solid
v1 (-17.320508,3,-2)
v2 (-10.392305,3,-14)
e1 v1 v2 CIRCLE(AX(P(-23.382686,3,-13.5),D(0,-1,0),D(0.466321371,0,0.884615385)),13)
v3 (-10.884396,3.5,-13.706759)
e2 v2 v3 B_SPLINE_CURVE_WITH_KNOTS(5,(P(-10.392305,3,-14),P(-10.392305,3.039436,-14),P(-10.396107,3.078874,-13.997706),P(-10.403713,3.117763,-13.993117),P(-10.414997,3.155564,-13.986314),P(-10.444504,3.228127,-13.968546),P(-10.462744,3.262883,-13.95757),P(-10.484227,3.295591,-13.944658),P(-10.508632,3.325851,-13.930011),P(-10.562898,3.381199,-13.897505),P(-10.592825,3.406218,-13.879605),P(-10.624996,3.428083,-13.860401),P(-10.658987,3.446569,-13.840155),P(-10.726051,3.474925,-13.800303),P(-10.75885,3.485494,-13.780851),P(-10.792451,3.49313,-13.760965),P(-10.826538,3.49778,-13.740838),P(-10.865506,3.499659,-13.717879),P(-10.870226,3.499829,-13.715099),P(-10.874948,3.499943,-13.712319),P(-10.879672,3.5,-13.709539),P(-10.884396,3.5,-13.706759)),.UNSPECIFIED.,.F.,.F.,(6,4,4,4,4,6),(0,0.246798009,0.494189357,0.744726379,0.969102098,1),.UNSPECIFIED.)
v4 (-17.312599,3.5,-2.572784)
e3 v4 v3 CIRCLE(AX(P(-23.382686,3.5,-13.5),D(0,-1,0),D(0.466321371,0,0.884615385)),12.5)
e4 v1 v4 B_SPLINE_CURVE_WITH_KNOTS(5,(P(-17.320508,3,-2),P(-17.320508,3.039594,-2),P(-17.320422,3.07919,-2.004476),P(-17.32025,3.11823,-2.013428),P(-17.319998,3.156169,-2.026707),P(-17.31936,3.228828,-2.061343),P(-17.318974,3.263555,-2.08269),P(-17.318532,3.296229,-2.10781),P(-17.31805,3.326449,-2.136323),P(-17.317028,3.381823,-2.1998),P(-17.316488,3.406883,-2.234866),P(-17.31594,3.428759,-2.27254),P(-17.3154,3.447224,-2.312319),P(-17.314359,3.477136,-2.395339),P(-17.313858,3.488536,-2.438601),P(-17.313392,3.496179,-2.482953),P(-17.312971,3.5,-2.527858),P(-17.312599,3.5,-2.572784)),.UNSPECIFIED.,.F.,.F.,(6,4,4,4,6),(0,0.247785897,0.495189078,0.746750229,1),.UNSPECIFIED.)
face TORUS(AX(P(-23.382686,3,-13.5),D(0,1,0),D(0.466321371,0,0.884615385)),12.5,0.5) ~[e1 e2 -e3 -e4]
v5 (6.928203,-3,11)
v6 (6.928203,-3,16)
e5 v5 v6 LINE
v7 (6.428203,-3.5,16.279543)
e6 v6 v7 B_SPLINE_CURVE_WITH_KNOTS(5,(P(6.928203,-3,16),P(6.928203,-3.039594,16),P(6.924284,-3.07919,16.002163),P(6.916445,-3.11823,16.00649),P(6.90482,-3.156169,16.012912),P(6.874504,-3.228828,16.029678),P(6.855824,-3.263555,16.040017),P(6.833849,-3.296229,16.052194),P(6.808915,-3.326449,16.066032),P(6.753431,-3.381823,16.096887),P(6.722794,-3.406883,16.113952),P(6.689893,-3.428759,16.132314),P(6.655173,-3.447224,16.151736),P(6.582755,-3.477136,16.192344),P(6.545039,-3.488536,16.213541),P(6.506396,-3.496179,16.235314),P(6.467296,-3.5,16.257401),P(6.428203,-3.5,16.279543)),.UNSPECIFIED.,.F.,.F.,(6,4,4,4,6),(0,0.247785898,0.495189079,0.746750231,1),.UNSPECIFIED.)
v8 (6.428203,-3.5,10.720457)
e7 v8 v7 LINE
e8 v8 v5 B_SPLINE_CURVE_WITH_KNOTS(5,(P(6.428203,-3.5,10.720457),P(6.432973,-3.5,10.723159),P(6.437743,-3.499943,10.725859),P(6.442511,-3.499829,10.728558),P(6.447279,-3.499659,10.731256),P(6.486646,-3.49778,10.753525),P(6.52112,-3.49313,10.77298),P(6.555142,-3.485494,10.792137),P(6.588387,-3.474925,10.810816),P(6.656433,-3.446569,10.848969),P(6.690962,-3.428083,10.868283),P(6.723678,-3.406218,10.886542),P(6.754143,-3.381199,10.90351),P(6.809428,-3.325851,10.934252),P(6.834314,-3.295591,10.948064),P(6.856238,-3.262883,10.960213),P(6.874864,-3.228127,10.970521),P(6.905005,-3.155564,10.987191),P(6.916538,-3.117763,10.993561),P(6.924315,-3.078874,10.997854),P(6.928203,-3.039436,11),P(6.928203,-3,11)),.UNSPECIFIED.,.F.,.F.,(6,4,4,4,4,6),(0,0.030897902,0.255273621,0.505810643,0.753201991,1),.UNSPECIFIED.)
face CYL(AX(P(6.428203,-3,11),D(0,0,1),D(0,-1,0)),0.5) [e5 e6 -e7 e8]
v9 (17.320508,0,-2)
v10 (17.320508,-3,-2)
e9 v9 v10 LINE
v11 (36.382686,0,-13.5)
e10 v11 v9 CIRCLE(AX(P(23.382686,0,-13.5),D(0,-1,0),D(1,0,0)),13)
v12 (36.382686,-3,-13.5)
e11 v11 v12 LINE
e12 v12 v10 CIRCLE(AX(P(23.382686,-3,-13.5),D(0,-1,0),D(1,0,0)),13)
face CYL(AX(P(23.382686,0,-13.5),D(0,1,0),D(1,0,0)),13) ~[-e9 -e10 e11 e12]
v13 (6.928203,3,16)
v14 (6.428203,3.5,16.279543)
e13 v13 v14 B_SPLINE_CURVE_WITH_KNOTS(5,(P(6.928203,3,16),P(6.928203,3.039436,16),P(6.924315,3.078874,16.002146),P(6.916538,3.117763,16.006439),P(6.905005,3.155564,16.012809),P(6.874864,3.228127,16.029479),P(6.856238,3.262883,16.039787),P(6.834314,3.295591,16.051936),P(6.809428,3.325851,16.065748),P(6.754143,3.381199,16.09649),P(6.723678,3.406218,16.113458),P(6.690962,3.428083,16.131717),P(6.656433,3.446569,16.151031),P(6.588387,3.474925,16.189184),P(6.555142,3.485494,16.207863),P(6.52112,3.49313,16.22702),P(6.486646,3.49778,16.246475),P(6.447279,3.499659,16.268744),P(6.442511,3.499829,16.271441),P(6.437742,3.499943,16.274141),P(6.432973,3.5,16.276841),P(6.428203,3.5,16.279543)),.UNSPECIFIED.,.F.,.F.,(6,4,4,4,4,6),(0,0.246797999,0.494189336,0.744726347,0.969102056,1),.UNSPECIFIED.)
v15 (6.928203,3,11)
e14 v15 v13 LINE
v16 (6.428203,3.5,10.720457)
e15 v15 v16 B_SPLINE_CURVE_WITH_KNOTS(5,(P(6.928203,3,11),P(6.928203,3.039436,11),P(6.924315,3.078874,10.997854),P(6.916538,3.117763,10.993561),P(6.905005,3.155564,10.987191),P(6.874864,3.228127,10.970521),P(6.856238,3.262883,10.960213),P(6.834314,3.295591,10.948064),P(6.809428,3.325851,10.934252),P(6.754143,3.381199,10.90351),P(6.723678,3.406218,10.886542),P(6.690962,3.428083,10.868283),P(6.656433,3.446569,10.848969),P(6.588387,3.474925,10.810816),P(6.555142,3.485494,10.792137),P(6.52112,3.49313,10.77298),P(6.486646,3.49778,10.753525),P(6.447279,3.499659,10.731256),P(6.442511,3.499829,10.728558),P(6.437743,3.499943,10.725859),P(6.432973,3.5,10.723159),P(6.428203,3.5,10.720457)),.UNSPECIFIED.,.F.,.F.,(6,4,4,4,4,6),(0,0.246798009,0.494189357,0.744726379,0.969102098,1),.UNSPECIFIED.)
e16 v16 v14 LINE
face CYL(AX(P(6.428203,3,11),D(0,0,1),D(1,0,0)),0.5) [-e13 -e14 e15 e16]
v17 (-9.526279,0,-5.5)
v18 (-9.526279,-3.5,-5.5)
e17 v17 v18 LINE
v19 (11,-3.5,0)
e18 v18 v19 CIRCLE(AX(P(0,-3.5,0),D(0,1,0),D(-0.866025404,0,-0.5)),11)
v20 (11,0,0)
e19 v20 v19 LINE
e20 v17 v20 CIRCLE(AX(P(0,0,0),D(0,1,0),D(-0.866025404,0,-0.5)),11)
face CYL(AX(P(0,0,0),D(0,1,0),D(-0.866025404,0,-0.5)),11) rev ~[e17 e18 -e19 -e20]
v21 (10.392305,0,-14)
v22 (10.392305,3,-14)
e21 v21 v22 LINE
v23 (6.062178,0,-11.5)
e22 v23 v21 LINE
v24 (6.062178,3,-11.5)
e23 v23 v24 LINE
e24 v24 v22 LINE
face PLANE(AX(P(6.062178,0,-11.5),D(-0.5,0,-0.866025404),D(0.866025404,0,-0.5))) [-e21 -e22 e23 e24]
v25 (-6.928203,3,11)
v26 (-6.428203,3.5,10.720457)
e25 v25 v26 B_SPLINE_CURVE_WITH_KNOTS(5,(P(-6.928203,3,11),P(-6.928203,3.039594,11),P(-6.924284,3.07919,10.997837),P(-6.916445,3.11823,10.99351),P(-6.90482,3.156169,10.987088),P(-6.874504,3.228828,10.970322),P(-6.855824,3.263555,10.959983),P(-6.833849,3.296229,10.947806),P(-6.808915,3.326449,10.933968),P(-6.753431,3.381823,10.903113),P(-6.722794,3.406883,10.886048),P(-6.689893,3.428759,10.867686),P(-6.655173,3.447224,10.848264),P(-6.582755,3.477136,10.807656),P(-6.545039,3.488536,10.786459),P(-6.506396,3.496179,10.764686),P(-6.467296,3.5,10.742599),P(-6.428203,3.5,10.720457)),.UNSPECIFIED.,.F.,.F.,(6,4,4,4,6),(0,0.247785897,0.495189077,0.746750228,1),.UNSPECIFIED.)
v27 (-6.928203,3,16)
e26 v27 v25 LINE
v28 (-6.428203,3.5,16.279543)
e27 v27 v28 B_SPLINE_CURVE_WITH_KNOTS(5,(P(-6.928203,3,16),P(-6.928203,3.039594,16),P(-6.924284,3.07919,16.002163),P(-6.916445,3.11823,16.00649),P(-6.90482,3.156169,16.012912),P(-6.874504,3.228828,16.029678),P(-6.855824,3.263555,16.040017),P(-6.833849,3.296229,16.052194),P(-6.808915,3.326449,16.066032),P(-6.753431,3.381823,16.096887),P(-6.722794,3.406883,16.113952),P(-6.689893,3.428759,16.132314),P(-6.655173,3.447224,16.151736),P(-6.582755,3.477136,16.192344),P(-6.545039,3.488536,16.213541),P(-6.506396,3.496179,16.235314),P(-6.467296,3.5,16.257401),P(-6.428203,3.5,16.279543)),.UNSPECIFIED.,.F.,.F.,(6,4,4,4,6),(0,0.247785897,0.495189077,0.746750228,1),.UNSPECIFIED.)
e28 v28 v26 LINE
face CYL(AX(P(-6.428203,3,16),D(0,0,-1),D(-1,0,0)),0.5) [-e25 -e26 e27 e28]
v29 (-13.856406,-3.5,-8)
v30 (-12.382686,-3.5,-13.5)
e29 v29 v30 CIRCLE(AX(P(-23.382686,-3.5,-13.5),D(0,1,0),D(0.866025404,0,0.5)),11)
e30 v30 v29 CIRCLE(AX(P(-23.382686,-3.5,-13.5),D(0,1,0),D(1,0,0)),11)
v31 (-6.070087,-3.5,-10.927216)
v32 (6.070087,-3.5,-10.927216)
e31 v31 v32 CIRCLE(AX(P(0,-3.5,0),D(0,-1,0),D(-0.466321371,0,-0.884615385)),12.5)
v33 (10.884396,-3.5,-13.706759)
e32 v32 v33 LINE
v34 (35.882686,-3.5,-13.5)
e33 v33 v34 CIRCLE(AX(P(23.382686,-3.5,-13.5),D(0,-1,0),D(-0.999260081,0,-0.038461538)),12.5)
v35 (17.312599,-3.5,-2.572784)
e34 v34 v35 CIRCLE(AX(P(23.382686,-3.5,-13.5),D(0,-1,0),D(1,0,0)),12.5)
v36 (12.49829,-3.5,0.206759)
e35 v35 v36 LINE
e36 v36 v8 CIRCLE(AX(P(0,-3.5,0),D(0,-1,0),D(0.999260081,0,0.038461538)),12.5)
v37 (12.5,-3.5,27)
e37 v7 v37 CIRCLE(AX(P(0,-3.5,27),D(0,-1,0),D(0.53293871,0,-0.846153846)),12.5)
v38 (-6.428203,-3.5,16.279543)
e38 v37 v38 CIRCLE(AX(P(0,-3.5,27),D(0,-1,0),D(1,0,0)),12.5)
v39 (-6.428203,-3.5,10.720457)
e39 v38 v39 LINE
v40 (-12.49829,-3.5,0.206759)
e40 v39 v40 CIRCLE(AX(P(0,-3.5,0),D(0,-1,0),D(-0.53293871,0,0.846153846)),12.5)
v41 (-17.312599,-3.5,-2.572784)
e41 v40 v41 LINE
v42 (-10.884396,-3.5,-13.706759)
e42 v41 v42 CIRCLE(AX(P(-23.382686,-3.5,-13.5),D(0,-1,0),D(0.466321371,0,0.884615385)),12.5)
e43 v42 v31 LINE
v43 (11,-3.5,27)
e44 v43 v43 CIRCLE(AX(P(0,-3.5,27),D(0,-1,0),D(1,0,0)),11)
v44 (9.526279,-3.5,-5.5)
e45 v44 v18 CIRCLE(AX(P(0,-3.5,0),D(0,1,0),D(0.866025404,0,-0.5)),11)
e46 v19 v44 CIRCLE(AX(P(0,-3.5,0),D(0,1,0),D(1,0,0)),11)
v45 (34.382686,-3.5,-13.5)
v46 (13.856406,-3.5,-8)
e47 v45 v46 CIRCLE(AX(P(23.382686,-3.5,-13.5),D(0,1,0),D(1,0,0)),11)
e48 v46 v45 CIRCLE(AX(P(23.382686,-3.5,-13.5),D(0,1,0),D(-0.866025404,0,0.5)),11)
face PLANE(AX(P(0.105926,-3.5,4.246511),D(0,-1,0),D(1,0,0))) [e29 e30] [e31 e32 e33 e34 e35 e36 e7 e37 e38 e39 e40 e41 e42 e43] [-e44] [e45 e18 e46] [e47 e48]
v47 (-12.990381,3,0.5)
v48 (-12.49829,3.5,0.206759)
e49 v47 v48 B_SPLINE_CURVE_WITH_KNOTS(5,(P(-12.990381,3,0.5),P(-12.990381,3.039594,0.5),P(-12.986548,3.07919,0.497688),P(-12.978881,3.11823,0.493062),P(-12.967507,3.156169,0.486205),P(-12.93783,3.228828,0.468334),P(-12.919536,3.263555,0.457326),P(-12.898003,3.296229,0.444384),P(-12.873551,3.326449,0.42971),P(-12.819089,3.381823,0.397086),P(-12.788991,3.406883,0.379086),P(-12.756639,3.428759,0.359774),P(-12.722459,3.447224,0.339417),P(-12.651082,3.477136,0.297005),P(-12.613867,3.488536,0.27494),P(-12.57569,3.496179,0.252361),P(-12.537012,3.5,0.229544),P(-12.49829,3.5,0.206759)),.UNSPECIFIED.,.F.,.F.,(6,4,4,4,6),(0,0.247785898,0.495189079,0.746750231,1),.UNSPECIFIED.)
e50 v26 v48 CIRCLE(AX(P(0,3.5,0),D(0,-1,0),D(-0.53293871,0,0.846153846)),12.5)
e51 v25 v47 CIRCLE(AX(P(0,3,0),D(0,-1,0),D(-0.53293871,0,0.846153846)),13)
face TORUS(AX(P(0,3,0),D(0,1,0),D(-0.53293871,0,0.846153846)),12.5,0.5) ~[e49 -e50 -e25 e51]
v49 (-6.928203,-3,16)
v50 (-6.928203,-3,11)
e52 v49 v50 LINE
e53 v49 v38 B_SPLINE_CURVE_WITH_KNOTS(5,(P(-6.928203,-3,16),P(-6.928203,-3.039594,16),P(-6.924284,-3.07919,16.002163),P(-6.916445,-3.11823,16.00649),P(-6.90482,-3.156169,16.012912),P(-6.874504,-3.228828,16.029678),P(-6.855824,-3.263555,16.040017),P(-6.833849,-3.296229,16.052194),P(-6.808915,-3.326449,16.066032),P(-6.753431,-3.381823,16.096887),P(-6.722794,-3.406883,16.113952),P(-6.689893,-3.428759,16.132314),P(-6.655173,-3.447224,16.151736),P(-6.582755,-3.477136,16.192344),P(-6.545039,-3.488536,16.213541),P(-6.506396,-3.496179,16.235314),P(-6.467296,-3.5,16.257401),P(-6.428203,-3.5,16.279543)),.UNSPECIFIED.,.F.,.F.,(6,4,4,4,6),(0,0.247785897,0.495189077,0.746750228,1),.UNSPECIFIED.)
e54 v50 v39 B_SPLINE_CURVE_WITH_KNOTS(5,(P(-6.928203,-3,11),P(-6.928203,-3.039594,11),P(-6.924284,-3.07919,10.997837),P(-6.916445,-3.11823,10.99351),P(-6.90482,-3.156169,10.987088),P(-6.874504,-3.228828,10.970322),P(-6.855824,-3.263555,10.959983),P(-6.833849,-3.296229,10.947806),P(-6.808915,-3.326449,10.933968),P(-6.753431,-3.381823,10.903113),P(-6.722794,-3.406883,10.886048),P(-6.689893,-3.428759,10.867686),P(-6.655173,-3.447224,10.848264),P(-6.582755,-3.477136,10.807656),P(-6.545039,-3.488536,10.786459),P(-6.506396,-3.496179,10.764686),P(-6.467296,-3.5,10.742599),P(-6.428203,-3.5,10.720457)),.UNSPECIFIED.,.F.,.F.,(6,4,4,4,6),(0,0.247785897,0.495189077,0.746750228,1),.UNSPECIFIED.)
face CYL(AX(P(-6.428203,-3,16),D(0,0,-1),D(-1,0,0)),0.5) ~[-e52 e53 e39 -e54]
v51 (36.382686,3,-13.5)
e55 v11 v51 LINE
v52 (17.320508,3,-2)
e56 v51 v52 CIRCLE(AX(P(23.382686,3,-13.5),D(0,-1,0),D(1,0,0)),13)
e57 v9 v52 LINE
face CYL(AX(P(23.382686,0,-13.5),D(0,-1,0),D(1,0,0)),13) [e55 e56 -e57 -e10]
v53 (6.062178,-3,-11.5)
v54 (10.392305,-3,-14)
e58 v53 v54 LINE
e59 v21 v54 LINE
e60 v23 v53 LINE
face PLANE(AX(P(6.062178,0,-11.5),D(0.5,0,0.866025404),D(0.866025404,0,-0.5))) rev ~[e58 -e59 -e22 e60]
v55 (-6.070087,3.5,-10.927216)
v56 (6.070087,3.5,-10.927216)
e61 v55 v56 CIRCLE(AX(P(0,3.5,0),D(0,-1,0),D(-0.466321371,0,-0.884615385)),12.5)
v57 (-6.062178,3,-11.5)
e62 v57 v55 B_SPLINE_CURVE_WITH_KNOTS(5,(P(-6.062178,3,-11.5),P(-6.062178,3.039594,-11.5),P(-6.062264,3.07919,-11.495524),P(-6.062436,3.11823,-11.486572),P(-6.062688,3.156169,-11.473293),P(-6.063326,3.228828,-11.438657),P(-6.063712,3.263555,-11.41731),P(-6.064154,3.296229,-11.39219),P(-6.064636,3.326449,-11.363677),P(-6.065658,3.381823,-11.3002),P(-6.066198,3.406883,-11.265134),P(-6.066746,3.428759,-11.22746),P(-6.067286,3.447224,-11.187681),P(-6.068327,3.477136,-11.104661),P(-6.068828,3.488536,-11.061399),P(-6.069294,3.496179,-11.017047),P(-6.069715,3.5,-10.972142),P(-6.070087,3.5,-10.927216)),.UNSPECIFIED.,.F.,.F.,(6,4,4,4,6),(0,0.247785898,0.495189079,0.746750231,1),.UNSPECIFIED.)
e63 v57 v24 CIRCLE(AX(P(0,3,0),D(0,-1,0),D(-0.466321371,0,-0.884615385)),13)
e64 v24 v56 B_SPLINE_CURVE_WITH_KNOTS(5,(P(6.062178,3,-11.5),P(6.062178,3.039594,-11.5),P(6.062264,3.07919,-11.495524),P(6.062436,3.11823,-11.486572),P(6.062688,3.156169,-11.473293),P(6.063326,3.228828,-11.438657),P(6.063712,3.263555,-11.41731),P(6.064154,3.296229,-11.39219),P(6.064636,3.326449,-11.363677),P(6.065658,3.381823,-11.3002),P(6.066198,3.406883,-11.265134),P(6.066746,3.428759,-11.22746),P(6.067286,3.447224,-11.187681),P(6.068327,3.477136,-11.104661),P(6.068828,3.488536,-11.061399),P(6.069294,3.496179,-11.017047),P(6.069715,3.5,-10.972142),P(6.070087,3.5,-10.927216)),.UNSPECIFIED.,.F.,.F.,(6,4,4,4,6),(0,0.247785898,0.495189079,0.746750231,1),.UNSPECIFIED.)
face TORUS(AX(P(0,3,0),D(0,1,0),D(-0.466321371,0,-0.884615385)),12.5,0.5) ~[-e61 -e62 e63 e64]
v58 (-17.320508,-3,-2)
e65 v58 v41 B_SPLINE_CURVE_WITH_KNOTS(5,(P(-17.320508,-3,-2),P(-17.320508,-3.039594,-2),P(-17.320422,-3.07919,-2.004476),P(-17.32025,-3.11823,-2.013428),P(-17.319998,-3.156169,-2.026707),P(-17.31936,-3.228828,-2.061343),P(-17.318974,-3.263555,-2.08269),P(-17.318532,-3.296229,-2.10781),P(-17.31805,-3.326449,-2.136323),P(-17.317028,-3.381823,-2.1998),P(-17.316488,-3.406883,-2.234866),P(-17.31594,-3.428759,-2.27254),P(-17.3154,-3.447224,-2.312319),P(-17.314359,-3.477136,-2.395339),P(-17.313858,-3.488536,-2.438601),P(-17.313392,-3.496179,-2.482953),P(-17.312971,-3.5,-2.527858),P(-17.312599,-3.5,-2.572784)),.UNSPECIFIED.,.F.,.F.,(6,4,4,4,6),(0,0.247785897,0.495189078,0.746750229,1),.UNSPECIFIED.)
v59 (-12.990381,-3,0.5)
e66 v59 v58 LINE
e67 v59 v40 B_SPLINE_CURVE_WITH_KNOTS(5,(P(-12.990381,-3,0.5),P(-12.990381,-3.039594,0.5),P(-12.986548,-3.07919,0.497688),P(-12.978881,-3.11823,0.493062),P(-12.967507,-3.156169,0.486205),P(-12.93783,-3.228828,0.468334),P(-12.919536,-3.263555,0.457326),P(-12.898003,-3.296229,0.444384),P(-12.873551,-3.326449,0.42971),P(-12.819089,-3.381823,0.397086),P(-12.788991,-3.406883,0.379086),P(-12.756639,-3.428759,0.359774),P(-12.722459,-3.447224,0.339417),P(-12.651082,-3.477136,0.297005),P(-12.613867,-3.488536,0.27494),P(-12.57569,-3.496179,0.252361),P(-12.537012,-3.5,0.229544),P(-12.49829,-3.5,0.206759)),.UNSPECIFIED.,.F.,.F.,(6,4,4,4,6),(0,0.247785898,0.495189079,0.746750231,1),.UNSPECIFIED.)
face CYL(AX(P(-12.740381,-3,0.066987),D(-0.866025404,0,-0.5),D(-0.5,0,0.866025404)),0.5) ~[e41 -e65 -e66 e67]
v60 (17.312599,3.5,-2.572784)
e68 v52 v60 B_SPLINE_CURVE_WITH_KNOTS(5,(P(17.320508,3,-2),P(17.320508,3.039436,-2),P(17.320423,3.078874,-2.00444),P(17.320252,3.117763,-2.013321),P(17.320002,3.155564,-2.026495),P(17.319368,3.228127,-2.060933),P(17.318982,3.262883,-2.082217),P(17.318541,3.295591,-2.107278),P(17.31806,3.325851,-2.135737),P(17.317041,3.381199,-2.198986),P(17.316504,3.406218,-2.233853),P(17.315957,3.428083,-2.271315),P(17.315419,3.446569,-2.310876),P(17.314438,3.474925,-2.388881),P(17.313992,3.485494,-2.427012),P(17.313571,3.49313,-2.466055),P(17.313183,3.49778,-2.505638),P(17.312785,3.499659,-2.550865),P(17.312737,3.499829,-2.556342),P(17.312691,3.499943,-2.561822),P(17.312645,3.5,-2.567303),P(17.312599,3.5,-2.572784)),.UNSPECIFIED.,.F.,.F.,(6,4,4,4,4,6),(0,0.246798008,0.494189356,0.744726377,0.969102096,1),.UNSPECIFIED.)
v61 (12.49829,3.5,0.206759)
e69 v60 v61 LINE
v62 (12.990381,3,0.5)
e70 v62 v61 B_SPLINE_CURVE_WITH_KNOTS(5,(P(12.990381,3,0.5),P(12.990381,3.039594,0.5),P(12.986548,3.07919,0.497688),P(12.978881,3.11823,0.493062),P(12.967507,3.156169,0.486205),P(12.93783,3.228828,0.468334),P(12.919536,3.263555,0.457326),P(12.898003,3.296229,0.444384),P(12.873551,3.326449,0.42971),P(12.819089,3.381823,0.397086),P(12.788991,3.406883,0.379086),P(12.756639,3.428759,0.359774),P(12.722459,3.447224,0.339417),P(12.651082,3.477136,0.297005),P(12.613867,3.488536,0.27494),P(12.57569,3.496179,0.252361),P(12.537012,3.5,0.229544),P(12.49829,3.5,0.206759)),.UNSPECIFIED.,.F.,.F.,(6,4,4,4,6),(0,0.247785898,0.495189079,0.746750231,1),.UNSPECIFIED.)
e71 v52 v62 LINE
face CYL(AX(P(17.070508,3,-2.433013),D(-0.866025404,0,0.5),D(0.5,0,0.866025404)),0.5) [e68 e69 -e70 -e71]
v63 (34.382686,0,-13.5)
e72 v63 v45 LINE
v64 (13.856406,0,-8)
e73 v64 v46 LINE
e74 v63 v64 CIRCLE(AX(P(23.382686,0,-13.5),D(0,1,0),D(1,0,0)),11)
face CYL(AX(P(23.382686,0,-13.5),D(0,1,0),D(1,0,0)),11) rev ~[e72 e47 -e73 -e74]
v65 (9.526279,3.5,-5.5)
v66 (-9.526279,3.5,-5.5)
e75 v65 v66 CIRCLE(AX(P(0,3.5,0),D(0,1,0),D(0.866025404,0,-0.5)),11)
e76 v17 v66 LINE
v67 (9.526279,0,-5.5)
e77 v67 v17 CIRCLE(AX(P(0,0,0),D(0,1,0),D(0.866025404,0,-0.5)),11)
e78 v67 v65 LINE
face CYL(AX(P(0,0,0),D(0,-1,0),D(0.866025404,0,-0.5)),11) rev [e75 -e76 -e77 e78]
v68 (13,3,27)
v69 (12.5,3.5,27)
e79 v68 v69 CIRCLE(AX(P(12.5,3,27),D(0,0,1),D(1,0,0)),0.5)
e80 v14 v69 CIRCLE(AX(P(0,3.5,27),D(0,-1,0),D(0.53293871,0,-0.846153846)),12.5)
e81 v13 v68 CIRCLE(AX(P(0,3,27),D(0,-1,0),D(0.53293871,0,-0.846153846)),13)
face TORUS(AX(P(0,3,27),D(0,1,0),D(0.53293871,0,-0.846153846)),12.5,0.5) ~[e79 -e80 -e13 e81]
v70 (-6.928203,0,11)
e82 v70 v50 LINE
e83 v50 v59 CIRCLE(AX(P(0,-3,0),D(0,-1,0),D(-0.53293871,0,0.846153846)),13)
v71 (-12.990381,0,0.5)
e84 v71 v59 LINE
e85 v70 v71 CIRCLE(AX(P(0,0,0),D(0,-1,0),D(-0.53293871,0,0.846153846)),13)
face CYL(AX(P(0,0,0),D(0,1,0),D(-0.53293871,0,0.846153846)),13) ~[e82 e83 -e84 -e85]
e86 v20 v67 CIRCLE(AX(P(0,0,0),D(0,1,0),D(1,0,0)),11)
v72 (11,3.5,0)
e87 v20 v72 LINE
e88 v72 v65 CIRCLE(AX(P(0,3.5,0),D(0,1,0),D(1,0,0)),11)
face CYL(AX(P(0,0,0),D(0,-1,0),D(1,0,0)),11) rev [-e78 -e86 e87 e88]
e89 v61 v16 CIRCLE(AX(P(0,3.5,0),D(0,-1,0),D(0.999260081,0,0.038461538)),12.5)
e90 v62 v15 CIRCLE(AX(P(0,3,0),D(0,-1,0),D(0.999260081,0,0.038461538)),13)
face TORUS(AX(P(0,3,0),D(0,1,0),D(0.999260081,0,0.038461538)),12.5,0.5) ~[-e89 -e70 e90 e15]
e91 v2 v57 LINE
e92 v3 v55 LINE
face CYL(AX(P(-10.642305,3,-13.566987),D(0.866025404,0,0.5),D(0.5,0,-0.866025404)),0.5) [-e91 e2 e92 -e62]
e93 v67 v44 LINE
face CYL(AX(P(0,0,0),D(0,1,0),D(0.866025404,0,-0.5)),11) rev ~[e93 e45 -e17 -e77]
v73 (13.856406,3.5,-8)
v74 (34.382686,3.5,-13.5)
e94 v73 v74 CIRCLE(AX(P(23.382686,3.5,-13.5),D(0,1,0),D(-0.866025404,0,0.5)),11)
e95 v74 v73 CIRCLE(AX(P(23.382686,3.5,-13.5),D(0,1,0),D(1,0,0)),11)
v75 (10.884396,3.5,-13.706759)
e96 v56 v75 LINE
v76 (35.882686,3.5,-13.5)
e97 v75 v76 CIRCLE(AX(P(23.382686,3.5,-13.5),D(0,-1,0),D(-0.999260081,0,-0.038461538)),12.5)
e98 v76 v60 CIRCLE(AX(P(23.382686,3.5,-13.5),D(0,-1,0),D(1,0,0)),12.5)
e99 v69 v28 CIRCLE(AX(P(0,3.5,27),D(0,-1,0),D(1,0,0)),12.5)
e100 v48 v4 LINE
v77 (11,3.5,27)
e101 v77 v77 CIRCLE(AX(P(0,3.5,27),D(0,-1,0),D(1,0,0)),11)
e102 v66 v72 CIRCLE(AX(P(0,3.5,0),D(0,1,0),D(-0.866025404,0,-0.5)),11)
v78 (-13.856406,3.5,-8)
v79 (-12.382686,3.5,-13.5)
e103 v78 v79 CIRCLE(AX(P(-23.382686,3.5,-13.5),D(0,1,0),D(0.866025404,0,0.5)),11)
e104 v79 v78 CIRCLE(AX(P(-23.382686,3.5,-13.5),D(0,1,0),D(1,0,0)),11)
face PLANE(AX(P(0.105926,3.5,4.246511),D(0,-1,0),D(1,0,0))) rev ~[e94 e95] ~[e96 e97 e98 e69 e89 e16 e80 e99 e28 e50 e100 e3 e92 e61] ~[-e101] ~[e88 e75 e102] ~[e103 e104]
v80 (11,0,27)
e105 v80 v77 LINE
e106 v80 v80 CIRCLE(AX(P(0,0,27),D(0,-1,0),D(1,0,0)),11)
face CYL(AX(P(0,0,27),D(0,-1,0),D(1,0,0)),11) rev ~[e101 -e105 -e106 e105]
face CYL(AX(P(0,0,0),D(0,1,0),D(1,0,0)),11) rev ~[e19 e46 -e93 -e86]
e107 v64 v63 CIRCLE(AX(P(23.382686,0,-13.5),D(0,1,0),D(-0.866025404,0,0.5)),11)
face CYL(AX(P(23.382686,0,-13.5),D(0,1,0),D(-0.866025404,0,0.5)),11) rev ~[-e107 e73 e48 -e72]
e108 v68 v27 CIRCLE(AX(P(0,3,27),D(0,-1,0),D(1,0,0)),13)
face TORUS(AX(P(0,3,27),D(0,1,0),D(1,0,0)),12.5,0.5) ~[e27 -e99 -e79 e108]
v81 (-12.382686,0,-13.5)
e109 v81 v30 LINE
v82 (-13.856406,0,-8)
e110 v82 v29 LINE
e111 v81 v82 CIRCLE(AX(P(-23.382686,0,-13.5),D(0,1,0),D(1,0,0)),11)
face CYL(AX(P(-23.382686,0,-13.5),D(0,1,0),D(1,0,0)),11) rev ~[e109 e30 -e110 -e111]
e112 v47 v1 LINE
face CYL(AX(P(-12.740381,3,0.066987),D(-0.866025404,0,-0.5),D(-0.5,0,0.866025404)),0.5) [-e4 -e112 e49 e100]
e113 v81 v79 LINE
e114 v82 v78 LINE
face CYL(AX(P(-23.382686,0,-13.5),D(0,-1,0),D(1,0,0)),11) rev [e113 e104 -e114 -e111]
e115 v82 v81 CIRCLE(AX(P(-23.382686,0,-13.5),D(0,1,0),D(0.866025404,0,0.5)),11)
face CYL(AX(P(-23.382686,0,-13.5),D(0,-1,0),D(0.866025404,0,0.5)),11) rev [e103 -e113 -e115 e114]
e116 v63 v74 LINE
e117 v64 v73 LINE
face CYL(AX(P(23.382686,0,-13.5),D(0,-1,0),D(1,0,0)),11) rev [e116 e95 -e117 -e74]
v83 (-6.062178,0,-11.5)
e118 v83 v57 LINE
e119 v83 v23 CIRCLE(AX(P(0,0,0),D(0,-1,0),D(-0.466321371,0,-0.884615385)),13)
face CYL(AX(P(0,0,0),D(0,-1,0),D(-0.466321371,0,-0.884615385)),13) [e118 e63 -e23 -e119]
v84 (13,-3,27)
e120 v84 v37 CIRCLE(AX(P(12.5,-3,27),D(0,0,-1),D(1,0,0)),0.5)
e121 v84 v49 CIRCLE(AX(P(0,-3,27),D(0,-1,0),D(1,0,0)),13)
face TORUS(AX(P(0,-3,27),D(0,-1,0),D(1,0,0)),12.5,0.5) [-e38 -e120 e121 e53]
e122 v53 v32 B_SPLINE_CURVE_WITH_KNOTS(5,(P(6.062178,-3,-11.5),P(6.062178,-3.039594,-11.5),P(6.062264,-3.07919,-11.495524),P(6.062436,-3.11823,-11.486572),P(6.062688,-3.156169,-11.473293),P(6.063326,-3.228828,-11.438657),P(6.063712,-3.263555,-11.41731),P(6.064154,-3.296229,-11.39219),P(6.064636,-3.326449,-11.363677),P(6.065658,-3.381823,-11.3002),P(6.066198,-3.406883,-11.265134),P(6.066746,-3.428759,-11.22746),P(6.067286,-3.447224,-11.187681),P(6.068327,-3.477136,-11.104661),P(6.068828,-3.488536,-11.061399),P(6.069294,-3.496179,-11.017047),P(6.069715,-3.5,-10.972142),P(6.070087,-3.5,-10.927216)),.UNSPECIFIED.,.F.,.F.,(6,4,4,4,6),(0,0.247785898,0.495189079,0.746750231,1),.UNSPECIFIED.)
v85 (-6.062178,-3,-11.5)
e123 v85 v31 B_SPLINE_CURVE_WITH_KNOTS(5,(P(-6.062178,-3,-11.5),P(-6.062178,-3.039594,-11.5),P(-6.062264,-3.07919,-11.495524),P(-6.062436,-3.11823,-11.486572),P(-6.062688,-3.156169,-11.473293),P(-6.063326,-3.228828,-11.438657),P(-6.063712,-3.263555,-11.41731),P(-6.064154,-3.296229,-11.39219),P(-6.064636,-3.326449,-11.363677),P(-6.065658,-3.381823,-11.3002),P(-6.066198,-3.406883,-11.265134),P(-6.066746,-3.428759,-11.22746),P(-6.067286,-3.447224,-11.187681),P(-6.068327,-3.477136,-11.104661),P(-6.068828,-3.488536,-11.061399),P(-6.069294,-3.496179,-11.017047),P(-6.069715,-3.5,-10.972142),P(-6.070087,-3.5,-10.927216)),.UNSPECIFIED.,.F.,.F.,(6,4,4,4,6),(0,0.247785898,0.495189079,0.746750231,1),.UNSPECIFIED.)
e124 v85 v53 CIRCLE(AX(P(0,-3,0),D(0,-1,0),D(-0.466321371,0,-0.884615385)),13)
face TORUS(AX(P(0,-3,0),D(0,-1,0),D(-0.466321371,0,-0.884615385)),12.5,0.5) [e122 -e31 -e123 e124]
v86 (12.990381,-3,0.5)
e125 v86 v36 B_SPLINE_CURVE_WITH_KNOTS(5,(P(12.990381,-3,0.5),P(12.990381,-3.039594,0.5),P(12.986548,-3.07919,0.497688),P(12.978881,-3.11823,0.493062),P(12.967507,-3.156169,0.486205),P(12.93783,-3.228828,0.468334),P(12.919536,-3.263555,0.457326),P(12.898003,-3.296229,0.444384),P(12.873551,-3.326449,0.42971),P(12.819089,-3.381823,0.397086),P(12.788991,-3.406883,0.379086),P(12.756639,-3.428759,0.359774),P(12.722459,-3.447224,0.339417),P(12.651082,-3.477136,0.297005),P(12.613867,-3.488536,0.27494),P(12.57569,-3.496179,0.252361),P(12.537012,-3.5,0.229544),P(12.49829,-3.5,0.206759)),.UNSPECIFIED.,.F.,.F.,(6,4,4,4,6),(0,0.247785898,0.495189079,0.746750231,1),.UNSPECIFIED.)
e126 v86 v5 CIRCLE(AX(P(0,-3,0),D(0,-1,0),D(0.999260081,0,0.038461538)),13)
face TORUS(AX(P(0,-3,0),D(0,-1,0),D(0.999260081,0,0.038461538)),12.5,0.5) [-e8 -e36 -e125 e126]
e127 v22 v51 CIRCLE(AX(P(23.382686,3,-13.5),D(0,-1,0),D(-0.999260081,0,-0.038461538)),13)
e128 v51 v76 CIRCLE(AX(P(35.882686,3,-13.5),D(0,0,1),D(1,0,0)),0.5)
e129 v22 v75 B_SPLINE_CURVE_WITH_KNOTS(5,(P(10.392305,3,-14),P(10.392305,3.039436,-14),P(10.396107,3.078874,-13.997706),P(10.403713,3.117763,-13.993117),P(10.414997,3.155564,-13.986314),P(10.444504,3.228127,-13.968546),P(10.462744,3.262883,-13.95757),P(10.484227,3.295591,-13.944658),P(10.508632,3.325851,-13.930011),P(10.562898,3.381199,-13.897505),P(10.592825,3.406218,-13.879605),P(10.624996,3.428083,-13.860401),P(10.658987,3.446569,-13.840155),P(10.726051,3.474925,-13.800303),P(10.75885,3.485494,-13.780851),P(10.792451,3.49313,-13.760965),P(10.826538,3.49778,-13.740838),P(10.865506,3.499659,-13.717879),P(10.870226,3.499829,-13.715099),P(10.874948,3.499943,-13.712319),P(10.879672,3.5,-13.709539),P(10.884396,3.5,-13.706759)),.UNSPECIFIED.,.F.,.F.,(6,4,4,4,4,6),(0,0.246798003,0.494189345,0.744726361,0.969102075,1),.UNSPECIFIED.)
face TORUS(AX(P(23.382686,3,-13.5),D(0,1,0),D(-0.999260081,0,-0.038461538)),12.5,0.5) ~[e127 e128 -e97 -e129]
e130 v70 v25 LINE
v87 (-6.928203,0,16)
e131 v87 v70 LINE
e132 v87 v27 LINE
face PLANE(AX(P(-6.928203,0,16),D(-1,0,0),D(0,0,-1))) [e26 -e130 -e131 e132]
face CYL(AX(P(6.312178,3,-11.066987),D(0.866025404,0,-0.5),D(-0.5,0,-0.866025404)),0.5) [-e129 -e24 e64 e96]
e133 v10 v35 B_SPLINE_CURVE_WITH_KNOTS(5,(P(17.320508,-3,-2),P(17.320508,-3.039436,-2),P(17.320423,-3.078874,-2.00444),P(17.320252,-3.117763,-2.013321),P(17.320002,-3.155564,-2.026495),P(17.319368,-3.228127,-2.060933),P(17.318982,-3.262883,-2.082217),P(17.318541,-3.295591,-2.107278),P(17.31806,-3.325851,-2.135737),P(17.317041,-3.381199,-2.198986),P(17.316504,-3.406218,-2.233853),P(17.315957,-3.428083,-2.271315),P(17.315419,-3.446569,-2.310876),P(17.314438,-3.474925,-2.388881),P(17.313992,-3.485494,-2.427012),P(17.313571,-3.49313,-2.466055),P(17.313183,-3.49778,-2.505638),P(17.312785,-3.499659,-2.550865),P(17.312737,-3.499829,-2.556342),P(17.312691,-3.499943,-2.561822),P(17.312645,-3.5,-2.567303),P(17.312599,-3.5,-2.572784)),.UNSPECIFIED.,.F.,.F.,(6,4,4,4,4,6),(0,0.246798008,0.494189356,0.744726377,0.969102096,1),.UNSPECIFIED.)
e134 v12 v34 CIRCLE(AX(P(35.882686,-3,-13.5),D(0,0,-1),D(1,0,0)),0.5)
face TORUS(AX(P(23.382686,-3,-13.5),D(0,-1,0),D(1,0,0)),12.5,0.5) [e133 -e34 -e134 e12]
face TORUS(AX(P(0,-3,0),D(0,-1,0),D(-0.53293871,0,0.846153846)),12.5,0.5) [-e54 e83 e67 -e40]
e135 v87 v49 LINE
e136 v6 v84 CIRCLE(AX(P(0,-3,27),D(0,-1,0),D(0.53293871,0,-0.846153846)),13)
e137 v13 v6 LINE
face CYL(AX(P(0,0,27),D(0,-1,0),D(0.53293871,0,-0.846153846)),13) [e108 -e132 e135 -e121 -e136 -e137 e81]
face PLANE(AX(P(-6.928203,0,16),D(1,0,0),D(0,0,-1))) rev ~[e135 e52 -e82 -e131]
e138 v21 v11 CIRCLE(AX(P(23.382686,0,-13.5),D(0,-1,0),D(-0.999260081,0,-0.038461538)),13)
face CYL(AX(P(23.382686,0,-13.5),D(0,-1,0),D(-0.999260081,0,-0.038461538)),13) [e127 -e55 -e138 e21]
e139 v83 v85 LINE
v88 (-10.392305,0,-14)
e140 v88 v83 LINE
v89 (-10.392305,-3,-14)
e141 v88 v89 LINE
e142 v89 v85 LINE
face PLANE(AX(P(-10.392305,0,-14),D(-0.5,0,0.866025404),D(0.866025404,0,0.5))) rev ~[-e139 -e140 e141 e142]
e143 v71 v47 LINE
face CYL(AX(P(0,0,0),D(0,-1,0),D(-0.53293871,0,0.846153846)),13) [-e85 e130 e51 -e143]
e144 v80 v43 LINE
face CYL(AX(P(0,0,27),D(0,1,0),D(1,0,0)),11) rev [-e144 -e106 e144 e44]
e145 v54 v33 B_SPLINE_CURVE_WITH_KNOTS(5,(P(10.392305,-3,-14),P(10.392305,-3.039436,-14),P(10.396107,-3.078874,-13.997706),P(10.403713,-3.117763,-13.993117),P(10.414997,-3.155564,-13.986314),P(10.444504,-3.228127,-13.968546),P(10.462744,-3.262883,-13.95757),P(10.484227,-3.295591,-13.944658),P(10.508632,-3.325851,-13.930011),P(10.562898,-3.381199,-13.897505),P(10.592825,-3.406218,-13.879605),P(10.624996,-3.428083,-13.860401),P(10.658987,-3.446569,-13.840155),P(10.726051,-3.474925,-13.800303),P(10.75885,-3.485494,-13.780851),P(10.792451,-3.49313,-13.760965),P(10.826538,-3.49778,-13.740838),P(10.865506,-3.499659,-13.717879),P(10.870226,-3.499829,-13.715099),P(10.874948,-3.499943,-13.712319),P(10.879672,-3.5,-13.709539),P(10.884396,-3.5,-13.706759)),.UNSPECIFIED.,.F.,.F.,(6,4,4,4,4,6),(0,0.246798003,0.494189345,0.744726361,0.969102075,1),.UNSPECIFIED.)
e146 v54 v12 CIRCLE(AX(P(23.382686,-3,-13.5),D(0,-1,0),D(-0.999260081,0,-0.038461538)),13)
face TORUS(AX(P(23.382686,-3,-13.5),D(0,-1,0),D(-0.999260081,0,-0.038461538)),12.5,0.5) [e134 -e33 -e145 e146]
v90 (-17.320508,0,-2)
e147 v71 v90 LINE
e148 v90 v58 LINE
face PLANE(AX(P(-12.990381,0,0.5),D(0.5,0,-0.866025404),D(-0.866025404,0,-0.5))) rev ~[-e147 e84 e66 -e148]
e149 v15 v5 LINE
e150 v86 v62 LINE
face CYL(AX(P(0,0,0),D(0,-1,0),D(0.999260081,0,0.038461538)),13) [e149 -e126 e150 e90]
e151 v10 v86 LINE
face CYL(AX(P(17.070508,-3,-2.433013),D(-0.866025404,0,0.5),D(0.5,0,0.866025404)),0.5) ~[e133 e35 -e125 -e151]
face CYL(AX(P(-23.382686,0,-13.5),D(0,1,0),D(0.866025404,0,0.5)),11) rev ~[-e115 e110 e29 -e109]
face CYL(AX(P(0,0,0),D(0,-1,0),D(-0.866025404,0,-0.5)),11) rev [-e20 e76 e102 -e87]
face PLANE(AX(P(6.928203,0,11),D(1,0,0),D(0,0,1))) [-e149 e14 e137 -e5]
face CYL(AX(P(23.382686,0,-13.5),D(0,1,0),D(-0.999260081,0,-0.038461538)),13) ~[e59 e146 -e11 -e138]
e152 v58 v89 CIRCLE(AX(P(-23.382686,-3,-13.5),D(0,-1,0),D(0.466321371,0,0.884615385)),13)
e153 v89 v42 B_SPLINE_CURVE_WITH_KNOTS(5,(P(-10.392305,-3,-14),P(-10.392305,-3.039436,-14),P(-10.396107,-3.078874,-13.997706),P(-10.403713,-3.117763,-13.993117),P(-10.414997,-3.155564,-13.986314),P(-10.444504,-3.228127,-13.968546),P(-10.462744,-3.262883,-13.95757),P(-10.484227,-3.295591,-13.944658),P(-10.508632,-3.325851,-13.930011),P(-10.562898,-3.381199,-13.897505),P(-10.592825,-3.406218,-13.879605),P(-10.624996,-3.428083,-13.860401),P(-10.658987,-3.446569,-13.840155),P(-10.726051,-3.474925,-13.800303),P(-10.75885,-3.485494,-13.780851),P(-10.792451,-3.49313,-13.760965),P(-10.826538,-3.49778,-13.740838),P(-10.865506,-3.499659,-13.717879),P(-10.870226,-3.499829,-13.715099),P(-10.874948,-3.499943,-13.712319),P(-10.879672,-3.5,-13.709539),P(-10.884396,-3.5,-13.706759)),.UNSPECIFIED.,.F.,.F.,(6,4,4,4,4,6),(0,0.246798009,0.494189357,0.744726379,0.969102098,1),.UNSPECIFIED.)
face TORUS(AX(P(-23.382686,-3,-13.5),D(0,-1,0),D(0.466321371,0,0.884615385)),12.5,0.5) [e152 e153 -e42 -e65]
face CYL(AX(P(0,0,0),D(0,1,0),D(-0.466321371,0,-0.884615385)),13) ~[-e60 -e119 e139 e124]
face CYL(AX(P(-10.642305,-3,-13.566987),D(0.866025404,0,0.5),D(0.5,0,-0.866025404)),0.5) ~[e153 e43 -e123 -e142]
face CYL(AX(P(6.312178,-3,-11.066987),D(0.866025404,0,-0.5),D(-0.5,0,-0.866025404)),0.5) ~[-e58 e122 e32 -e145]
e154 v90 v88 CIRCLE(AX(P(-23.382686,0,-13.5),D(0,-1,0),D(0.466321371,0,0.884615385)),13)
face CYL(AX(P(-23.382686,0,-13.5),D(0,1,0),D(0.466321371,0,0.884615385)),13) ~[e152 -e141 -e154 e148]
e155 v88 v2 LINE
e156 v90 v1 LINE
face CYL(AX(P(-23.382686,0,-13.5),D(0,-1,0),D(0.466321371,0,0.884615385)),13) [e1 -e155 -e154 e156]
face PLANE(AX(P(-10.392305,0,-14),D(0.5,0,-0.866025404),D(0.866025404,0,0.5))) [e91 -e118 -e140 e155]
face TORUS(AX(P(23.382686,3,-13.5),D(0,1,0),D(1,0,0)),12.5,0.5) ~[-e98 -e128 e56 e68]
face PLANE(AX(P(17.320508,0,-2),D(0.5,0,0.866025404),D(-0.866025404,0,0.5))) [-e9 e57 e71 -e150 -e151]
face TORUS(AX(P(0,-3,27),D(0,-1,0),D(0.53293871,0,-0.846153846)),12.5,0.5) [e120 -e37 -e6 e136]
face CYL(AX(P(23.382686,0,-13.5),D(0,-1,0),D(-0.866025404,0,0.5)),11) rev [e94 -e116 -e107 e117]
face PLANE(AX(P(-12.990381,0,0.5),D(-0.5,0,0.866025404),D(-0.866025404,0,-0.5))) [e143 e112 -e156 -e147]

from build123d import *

# Parameters (mm, degrees)
F0_R     = 11
F1_DEPTH = 3.5
F2_R     = 0.5


with BuildPart() as f1:
    # F0 (on Front) → F1 (new body, symmetric)
    with BuildSketch(Plane.XZ):
        with BuildLine():
            ThreePointArc((-9.5262794416, -5.5), (-2.8470094961, 10.6251840892), (11, 0))
            ThreePointArc((11, 0), (10.6251840892, -2.8470094961), (9.5262794416, -5.5))
            Line((9.5262794416, -5.5), (11.2583302492, -6.5))
            ThreePointArc((11.2583302492, -6.5), (12.5570357418, -3.3646475863), (13, 0))
            ThreePointArc((13, 0), (12.9975950417, 0.2500462578), (12.9903810568, 0.5))
            ThreePointArc((12.9903810568, 0.5), (11.2583302492, 6.5), (6.9282032303, 11))
            ThreePointArc((6.9282032303, 11), (0, 13), (-6.9282032303, 11))
            ThreePointArc((-6.9282032303, 11), (-11.2583302492, 6.5), (-12.9903810568, 0.5))
            ThreePointArc((-12.9903810568, 0.5), (-12.6194294641, -3.1224989992), (-11.2583302492, -6.5))
            Line((-11.2583302492, -6.5), (-9.5262794416, -5.5))
        make_face()
        with BuildLine():
            ThreePointArc((9.5262794416, -5.5), (0, -11), (-9.5262794416, -5.5))
            Line((-9.5262794416, -5.5), (-11.2583302492, -6.5))
            ThreePointArc((-11.2583302492, -6.5), (-9.0138781887, -9.3674969976), (-6.0621778265, -11.5))
            ThreePointArc((-6.0621778265, -11.5), (0, -13), (6.0621778265, -11.5))
            ThreePointArc((6.0621778265, -11.5), (9.0138781887, -9.3674969976), (11.2583302492, -6.5))
            Line((11.2583302492, -6.5), (9.5262794416, -5.5))
        make_face()
        with BuildLine():
            Line((-12.124355653, -7), (-11.2583302492, -6.5))
            ThreePointArc((-11.2583302492, -6.5), (-12.6194294641, -3.1224989992), (-12.9903810568, 0.5))
            Line((-12.9903810568, 0.5), (-17.3205080757, -2))
            ThreePointArc((-17.3205080757, -2), (-14.3688077135, -4.1325030024), (-12.124355653, -7))
        make_face()
        with BuildLine():
            ThreePointArc((-6.0621778265, -11.5), (-9.0138781887, -9.3674969976), (-11.2583302492, -6.5))
            Line((-11.2583302492, -6.5), (-12.124355653, -7))
            ThreePointArc((-12.124355653, -7), (-10.8256501604, -10.1353524137), (-10.3826859022, -13.5))
            ThreePointArc((-10.3826859022, -13.5), (-10.3850908604, -13.7500462578), (-10.3923048454, -14))
            Line((-10.3923048454, -14), (-6.0621778265, -11.5))
        make_face()
        with BuildLine():
            Line((12.124355653, -7), (11.2583302492, -6.5))
            ThreePointArc((11.2583302492, -6.5), (9.0138781887, -9.3674969976), (6.0621778265, -11.5))
            Line((6.0621778265, -11.5), (10.3923048454, -14))
            ThreePointArc((10.3923048454, -14), (10.7632564381, -10.3775010008), (12.124355653, -7))
        make_face()
        with BuildLine():
            ThreePointArc((13, 0), (12.5570357418, -3.3646475863), (11.2583302492, -6.5))
            Line((11.2583302492, -6.5), (12.124355653, -7))
            ThreePointArc((12.124355653, -7), (14.3688077135, -4.1325030024), (17.3205080757, -2))
            Line((17.3205080757, -2), (12.9903810568, 0.5))
            ThreePointArc((12.9903810568, 0.5), (12.9975950417, 0.2500462578), (13, 0))
        make_face()
        with BuildLine():
            ThreePointArc((-10.3826859022, -13.5), (-10.8256501604, -10.1353524137), (-12.124355653, -7))
            ThreePointArc((-12.124355653, -7), (-14.3688077135, -4.1325030024), (-17.3205080757, -2))
            ThreePointArc((-17.3205080757, -2), (-34.6410161514, -20), (-10.3923048454, -14))
            ThreePointArc((-10.3923048454, -14), (-10.3850908604, -13.7500462578), (-10.3826859022, -13.5))
        make_face()
        with BuildLine():
            ThreePointArc((-12.3826859022, -13.5), (-34.0078699914, -16.3470094961), (-13.8564064606, -8))
            ThreePointArc((-13.8564064606, -8), (-12.757501813, -10.6529905039), (-12.3826859022, -13.5))
        make_face(mode=Mode.SUBTRACT)
        with BuildLine():
            ThreePointArc((17.3205080757, -2), (14.3688077135, -4.1325030024), (12.124355653, -7))
            ThreePointArc((12.124355653, -7), (10.7632564381, -10.3775010008), (10.3923048454, -14))
            ThreePointArc((10.3923048454, -14), (23.6327321599, -26.4975950417), (36.3826859022, -13.5))
            ThreePointArc((36.3826859022, -13.5), (30.0980298344, -2.3687756346), (17.3205080757, -2))
        make_face()
        with BuildLine():
            ThreePointArc((34.3826859022, -13.5), (20.5356764061, -24.1251840892), (13.8564064606, -8))
            ThreePointArc((13.8564064606, -8), (26.2296953983, -2.8748159108), (34.3826859022, -13.5))
        make_face(mode=Mode.SUBTRACT)
        with BuildLine():
            Line((-6.9282032303, 16), (-6.9282032303, 11))
            ThreePointArc((-6.9282032303, 11), (0, 13), (6.9282032303, 11))
            Line((6.9282032303, 11), (6.9282032303, 16))
            ThreePointArc((6.9282032303, 16), (0, 14), (-6.9282032303, 16))
        make_face()
        with BuildLine():
            ThreePointArc((13, 27), (-6.2822511095, 38.3812706231), (-6.9282032303, 16))
            ThreePointArc((-6.9282032303, 16), (0, 14), (6.9282032303, 16))
            ThreePointArc((6.9282032303, 16), (11.3812706231, 20.7177488905), (13, 27))
        make_face()
        with Locations((0, 27)):
            Circle(F0_R, mode=Mode.SUBTRACT)
    extrude(amount=F1_DEPTH, both=True)

    # F2
    f2_edges = [f1.edges().sort_by_distance(p)[0] for p in [
        (0, -3.5, 40),
        (0, 3.5, 40),
        (6.928203, -3.5, 13.5),
        (6.928203, 3.5, 13.5),
        (-6.928203, -3.5, 13.5),
        (-6.928203, 3.5, 13.5),
        (-11.25833, 3.5, 6.5),
        (-11.25833, -3.5, 6.5),
        (-15.155445, 3.5, -0.75),
        (-8.227241, 3.5, -12.75),
        (-34.641016, 3.5, -20),
        (-34.641016, -3.5, -20),
        (-15.155445, -3.5, -0.75),
        (-8.227241, -3.5, -12.75),
        (0, -3.5, -13),
        (0, 3.5, -13),
        (8.227241, -3.5, -12.75),
        (34.641016, -3.5, -20),
        (34.641016, 3.5, -20),
        (8.227241, 3.5, -12.75),
        (15.155445, -3.5, -0.75),
        (15.155445, 3.5, -0.75),
        (11.25833, 3.5, 6.5),
        (11.25833, -3.5, 6.5),
    ]]
    fillet(f2_edges, radius=F2_R)


solid = f1.part
